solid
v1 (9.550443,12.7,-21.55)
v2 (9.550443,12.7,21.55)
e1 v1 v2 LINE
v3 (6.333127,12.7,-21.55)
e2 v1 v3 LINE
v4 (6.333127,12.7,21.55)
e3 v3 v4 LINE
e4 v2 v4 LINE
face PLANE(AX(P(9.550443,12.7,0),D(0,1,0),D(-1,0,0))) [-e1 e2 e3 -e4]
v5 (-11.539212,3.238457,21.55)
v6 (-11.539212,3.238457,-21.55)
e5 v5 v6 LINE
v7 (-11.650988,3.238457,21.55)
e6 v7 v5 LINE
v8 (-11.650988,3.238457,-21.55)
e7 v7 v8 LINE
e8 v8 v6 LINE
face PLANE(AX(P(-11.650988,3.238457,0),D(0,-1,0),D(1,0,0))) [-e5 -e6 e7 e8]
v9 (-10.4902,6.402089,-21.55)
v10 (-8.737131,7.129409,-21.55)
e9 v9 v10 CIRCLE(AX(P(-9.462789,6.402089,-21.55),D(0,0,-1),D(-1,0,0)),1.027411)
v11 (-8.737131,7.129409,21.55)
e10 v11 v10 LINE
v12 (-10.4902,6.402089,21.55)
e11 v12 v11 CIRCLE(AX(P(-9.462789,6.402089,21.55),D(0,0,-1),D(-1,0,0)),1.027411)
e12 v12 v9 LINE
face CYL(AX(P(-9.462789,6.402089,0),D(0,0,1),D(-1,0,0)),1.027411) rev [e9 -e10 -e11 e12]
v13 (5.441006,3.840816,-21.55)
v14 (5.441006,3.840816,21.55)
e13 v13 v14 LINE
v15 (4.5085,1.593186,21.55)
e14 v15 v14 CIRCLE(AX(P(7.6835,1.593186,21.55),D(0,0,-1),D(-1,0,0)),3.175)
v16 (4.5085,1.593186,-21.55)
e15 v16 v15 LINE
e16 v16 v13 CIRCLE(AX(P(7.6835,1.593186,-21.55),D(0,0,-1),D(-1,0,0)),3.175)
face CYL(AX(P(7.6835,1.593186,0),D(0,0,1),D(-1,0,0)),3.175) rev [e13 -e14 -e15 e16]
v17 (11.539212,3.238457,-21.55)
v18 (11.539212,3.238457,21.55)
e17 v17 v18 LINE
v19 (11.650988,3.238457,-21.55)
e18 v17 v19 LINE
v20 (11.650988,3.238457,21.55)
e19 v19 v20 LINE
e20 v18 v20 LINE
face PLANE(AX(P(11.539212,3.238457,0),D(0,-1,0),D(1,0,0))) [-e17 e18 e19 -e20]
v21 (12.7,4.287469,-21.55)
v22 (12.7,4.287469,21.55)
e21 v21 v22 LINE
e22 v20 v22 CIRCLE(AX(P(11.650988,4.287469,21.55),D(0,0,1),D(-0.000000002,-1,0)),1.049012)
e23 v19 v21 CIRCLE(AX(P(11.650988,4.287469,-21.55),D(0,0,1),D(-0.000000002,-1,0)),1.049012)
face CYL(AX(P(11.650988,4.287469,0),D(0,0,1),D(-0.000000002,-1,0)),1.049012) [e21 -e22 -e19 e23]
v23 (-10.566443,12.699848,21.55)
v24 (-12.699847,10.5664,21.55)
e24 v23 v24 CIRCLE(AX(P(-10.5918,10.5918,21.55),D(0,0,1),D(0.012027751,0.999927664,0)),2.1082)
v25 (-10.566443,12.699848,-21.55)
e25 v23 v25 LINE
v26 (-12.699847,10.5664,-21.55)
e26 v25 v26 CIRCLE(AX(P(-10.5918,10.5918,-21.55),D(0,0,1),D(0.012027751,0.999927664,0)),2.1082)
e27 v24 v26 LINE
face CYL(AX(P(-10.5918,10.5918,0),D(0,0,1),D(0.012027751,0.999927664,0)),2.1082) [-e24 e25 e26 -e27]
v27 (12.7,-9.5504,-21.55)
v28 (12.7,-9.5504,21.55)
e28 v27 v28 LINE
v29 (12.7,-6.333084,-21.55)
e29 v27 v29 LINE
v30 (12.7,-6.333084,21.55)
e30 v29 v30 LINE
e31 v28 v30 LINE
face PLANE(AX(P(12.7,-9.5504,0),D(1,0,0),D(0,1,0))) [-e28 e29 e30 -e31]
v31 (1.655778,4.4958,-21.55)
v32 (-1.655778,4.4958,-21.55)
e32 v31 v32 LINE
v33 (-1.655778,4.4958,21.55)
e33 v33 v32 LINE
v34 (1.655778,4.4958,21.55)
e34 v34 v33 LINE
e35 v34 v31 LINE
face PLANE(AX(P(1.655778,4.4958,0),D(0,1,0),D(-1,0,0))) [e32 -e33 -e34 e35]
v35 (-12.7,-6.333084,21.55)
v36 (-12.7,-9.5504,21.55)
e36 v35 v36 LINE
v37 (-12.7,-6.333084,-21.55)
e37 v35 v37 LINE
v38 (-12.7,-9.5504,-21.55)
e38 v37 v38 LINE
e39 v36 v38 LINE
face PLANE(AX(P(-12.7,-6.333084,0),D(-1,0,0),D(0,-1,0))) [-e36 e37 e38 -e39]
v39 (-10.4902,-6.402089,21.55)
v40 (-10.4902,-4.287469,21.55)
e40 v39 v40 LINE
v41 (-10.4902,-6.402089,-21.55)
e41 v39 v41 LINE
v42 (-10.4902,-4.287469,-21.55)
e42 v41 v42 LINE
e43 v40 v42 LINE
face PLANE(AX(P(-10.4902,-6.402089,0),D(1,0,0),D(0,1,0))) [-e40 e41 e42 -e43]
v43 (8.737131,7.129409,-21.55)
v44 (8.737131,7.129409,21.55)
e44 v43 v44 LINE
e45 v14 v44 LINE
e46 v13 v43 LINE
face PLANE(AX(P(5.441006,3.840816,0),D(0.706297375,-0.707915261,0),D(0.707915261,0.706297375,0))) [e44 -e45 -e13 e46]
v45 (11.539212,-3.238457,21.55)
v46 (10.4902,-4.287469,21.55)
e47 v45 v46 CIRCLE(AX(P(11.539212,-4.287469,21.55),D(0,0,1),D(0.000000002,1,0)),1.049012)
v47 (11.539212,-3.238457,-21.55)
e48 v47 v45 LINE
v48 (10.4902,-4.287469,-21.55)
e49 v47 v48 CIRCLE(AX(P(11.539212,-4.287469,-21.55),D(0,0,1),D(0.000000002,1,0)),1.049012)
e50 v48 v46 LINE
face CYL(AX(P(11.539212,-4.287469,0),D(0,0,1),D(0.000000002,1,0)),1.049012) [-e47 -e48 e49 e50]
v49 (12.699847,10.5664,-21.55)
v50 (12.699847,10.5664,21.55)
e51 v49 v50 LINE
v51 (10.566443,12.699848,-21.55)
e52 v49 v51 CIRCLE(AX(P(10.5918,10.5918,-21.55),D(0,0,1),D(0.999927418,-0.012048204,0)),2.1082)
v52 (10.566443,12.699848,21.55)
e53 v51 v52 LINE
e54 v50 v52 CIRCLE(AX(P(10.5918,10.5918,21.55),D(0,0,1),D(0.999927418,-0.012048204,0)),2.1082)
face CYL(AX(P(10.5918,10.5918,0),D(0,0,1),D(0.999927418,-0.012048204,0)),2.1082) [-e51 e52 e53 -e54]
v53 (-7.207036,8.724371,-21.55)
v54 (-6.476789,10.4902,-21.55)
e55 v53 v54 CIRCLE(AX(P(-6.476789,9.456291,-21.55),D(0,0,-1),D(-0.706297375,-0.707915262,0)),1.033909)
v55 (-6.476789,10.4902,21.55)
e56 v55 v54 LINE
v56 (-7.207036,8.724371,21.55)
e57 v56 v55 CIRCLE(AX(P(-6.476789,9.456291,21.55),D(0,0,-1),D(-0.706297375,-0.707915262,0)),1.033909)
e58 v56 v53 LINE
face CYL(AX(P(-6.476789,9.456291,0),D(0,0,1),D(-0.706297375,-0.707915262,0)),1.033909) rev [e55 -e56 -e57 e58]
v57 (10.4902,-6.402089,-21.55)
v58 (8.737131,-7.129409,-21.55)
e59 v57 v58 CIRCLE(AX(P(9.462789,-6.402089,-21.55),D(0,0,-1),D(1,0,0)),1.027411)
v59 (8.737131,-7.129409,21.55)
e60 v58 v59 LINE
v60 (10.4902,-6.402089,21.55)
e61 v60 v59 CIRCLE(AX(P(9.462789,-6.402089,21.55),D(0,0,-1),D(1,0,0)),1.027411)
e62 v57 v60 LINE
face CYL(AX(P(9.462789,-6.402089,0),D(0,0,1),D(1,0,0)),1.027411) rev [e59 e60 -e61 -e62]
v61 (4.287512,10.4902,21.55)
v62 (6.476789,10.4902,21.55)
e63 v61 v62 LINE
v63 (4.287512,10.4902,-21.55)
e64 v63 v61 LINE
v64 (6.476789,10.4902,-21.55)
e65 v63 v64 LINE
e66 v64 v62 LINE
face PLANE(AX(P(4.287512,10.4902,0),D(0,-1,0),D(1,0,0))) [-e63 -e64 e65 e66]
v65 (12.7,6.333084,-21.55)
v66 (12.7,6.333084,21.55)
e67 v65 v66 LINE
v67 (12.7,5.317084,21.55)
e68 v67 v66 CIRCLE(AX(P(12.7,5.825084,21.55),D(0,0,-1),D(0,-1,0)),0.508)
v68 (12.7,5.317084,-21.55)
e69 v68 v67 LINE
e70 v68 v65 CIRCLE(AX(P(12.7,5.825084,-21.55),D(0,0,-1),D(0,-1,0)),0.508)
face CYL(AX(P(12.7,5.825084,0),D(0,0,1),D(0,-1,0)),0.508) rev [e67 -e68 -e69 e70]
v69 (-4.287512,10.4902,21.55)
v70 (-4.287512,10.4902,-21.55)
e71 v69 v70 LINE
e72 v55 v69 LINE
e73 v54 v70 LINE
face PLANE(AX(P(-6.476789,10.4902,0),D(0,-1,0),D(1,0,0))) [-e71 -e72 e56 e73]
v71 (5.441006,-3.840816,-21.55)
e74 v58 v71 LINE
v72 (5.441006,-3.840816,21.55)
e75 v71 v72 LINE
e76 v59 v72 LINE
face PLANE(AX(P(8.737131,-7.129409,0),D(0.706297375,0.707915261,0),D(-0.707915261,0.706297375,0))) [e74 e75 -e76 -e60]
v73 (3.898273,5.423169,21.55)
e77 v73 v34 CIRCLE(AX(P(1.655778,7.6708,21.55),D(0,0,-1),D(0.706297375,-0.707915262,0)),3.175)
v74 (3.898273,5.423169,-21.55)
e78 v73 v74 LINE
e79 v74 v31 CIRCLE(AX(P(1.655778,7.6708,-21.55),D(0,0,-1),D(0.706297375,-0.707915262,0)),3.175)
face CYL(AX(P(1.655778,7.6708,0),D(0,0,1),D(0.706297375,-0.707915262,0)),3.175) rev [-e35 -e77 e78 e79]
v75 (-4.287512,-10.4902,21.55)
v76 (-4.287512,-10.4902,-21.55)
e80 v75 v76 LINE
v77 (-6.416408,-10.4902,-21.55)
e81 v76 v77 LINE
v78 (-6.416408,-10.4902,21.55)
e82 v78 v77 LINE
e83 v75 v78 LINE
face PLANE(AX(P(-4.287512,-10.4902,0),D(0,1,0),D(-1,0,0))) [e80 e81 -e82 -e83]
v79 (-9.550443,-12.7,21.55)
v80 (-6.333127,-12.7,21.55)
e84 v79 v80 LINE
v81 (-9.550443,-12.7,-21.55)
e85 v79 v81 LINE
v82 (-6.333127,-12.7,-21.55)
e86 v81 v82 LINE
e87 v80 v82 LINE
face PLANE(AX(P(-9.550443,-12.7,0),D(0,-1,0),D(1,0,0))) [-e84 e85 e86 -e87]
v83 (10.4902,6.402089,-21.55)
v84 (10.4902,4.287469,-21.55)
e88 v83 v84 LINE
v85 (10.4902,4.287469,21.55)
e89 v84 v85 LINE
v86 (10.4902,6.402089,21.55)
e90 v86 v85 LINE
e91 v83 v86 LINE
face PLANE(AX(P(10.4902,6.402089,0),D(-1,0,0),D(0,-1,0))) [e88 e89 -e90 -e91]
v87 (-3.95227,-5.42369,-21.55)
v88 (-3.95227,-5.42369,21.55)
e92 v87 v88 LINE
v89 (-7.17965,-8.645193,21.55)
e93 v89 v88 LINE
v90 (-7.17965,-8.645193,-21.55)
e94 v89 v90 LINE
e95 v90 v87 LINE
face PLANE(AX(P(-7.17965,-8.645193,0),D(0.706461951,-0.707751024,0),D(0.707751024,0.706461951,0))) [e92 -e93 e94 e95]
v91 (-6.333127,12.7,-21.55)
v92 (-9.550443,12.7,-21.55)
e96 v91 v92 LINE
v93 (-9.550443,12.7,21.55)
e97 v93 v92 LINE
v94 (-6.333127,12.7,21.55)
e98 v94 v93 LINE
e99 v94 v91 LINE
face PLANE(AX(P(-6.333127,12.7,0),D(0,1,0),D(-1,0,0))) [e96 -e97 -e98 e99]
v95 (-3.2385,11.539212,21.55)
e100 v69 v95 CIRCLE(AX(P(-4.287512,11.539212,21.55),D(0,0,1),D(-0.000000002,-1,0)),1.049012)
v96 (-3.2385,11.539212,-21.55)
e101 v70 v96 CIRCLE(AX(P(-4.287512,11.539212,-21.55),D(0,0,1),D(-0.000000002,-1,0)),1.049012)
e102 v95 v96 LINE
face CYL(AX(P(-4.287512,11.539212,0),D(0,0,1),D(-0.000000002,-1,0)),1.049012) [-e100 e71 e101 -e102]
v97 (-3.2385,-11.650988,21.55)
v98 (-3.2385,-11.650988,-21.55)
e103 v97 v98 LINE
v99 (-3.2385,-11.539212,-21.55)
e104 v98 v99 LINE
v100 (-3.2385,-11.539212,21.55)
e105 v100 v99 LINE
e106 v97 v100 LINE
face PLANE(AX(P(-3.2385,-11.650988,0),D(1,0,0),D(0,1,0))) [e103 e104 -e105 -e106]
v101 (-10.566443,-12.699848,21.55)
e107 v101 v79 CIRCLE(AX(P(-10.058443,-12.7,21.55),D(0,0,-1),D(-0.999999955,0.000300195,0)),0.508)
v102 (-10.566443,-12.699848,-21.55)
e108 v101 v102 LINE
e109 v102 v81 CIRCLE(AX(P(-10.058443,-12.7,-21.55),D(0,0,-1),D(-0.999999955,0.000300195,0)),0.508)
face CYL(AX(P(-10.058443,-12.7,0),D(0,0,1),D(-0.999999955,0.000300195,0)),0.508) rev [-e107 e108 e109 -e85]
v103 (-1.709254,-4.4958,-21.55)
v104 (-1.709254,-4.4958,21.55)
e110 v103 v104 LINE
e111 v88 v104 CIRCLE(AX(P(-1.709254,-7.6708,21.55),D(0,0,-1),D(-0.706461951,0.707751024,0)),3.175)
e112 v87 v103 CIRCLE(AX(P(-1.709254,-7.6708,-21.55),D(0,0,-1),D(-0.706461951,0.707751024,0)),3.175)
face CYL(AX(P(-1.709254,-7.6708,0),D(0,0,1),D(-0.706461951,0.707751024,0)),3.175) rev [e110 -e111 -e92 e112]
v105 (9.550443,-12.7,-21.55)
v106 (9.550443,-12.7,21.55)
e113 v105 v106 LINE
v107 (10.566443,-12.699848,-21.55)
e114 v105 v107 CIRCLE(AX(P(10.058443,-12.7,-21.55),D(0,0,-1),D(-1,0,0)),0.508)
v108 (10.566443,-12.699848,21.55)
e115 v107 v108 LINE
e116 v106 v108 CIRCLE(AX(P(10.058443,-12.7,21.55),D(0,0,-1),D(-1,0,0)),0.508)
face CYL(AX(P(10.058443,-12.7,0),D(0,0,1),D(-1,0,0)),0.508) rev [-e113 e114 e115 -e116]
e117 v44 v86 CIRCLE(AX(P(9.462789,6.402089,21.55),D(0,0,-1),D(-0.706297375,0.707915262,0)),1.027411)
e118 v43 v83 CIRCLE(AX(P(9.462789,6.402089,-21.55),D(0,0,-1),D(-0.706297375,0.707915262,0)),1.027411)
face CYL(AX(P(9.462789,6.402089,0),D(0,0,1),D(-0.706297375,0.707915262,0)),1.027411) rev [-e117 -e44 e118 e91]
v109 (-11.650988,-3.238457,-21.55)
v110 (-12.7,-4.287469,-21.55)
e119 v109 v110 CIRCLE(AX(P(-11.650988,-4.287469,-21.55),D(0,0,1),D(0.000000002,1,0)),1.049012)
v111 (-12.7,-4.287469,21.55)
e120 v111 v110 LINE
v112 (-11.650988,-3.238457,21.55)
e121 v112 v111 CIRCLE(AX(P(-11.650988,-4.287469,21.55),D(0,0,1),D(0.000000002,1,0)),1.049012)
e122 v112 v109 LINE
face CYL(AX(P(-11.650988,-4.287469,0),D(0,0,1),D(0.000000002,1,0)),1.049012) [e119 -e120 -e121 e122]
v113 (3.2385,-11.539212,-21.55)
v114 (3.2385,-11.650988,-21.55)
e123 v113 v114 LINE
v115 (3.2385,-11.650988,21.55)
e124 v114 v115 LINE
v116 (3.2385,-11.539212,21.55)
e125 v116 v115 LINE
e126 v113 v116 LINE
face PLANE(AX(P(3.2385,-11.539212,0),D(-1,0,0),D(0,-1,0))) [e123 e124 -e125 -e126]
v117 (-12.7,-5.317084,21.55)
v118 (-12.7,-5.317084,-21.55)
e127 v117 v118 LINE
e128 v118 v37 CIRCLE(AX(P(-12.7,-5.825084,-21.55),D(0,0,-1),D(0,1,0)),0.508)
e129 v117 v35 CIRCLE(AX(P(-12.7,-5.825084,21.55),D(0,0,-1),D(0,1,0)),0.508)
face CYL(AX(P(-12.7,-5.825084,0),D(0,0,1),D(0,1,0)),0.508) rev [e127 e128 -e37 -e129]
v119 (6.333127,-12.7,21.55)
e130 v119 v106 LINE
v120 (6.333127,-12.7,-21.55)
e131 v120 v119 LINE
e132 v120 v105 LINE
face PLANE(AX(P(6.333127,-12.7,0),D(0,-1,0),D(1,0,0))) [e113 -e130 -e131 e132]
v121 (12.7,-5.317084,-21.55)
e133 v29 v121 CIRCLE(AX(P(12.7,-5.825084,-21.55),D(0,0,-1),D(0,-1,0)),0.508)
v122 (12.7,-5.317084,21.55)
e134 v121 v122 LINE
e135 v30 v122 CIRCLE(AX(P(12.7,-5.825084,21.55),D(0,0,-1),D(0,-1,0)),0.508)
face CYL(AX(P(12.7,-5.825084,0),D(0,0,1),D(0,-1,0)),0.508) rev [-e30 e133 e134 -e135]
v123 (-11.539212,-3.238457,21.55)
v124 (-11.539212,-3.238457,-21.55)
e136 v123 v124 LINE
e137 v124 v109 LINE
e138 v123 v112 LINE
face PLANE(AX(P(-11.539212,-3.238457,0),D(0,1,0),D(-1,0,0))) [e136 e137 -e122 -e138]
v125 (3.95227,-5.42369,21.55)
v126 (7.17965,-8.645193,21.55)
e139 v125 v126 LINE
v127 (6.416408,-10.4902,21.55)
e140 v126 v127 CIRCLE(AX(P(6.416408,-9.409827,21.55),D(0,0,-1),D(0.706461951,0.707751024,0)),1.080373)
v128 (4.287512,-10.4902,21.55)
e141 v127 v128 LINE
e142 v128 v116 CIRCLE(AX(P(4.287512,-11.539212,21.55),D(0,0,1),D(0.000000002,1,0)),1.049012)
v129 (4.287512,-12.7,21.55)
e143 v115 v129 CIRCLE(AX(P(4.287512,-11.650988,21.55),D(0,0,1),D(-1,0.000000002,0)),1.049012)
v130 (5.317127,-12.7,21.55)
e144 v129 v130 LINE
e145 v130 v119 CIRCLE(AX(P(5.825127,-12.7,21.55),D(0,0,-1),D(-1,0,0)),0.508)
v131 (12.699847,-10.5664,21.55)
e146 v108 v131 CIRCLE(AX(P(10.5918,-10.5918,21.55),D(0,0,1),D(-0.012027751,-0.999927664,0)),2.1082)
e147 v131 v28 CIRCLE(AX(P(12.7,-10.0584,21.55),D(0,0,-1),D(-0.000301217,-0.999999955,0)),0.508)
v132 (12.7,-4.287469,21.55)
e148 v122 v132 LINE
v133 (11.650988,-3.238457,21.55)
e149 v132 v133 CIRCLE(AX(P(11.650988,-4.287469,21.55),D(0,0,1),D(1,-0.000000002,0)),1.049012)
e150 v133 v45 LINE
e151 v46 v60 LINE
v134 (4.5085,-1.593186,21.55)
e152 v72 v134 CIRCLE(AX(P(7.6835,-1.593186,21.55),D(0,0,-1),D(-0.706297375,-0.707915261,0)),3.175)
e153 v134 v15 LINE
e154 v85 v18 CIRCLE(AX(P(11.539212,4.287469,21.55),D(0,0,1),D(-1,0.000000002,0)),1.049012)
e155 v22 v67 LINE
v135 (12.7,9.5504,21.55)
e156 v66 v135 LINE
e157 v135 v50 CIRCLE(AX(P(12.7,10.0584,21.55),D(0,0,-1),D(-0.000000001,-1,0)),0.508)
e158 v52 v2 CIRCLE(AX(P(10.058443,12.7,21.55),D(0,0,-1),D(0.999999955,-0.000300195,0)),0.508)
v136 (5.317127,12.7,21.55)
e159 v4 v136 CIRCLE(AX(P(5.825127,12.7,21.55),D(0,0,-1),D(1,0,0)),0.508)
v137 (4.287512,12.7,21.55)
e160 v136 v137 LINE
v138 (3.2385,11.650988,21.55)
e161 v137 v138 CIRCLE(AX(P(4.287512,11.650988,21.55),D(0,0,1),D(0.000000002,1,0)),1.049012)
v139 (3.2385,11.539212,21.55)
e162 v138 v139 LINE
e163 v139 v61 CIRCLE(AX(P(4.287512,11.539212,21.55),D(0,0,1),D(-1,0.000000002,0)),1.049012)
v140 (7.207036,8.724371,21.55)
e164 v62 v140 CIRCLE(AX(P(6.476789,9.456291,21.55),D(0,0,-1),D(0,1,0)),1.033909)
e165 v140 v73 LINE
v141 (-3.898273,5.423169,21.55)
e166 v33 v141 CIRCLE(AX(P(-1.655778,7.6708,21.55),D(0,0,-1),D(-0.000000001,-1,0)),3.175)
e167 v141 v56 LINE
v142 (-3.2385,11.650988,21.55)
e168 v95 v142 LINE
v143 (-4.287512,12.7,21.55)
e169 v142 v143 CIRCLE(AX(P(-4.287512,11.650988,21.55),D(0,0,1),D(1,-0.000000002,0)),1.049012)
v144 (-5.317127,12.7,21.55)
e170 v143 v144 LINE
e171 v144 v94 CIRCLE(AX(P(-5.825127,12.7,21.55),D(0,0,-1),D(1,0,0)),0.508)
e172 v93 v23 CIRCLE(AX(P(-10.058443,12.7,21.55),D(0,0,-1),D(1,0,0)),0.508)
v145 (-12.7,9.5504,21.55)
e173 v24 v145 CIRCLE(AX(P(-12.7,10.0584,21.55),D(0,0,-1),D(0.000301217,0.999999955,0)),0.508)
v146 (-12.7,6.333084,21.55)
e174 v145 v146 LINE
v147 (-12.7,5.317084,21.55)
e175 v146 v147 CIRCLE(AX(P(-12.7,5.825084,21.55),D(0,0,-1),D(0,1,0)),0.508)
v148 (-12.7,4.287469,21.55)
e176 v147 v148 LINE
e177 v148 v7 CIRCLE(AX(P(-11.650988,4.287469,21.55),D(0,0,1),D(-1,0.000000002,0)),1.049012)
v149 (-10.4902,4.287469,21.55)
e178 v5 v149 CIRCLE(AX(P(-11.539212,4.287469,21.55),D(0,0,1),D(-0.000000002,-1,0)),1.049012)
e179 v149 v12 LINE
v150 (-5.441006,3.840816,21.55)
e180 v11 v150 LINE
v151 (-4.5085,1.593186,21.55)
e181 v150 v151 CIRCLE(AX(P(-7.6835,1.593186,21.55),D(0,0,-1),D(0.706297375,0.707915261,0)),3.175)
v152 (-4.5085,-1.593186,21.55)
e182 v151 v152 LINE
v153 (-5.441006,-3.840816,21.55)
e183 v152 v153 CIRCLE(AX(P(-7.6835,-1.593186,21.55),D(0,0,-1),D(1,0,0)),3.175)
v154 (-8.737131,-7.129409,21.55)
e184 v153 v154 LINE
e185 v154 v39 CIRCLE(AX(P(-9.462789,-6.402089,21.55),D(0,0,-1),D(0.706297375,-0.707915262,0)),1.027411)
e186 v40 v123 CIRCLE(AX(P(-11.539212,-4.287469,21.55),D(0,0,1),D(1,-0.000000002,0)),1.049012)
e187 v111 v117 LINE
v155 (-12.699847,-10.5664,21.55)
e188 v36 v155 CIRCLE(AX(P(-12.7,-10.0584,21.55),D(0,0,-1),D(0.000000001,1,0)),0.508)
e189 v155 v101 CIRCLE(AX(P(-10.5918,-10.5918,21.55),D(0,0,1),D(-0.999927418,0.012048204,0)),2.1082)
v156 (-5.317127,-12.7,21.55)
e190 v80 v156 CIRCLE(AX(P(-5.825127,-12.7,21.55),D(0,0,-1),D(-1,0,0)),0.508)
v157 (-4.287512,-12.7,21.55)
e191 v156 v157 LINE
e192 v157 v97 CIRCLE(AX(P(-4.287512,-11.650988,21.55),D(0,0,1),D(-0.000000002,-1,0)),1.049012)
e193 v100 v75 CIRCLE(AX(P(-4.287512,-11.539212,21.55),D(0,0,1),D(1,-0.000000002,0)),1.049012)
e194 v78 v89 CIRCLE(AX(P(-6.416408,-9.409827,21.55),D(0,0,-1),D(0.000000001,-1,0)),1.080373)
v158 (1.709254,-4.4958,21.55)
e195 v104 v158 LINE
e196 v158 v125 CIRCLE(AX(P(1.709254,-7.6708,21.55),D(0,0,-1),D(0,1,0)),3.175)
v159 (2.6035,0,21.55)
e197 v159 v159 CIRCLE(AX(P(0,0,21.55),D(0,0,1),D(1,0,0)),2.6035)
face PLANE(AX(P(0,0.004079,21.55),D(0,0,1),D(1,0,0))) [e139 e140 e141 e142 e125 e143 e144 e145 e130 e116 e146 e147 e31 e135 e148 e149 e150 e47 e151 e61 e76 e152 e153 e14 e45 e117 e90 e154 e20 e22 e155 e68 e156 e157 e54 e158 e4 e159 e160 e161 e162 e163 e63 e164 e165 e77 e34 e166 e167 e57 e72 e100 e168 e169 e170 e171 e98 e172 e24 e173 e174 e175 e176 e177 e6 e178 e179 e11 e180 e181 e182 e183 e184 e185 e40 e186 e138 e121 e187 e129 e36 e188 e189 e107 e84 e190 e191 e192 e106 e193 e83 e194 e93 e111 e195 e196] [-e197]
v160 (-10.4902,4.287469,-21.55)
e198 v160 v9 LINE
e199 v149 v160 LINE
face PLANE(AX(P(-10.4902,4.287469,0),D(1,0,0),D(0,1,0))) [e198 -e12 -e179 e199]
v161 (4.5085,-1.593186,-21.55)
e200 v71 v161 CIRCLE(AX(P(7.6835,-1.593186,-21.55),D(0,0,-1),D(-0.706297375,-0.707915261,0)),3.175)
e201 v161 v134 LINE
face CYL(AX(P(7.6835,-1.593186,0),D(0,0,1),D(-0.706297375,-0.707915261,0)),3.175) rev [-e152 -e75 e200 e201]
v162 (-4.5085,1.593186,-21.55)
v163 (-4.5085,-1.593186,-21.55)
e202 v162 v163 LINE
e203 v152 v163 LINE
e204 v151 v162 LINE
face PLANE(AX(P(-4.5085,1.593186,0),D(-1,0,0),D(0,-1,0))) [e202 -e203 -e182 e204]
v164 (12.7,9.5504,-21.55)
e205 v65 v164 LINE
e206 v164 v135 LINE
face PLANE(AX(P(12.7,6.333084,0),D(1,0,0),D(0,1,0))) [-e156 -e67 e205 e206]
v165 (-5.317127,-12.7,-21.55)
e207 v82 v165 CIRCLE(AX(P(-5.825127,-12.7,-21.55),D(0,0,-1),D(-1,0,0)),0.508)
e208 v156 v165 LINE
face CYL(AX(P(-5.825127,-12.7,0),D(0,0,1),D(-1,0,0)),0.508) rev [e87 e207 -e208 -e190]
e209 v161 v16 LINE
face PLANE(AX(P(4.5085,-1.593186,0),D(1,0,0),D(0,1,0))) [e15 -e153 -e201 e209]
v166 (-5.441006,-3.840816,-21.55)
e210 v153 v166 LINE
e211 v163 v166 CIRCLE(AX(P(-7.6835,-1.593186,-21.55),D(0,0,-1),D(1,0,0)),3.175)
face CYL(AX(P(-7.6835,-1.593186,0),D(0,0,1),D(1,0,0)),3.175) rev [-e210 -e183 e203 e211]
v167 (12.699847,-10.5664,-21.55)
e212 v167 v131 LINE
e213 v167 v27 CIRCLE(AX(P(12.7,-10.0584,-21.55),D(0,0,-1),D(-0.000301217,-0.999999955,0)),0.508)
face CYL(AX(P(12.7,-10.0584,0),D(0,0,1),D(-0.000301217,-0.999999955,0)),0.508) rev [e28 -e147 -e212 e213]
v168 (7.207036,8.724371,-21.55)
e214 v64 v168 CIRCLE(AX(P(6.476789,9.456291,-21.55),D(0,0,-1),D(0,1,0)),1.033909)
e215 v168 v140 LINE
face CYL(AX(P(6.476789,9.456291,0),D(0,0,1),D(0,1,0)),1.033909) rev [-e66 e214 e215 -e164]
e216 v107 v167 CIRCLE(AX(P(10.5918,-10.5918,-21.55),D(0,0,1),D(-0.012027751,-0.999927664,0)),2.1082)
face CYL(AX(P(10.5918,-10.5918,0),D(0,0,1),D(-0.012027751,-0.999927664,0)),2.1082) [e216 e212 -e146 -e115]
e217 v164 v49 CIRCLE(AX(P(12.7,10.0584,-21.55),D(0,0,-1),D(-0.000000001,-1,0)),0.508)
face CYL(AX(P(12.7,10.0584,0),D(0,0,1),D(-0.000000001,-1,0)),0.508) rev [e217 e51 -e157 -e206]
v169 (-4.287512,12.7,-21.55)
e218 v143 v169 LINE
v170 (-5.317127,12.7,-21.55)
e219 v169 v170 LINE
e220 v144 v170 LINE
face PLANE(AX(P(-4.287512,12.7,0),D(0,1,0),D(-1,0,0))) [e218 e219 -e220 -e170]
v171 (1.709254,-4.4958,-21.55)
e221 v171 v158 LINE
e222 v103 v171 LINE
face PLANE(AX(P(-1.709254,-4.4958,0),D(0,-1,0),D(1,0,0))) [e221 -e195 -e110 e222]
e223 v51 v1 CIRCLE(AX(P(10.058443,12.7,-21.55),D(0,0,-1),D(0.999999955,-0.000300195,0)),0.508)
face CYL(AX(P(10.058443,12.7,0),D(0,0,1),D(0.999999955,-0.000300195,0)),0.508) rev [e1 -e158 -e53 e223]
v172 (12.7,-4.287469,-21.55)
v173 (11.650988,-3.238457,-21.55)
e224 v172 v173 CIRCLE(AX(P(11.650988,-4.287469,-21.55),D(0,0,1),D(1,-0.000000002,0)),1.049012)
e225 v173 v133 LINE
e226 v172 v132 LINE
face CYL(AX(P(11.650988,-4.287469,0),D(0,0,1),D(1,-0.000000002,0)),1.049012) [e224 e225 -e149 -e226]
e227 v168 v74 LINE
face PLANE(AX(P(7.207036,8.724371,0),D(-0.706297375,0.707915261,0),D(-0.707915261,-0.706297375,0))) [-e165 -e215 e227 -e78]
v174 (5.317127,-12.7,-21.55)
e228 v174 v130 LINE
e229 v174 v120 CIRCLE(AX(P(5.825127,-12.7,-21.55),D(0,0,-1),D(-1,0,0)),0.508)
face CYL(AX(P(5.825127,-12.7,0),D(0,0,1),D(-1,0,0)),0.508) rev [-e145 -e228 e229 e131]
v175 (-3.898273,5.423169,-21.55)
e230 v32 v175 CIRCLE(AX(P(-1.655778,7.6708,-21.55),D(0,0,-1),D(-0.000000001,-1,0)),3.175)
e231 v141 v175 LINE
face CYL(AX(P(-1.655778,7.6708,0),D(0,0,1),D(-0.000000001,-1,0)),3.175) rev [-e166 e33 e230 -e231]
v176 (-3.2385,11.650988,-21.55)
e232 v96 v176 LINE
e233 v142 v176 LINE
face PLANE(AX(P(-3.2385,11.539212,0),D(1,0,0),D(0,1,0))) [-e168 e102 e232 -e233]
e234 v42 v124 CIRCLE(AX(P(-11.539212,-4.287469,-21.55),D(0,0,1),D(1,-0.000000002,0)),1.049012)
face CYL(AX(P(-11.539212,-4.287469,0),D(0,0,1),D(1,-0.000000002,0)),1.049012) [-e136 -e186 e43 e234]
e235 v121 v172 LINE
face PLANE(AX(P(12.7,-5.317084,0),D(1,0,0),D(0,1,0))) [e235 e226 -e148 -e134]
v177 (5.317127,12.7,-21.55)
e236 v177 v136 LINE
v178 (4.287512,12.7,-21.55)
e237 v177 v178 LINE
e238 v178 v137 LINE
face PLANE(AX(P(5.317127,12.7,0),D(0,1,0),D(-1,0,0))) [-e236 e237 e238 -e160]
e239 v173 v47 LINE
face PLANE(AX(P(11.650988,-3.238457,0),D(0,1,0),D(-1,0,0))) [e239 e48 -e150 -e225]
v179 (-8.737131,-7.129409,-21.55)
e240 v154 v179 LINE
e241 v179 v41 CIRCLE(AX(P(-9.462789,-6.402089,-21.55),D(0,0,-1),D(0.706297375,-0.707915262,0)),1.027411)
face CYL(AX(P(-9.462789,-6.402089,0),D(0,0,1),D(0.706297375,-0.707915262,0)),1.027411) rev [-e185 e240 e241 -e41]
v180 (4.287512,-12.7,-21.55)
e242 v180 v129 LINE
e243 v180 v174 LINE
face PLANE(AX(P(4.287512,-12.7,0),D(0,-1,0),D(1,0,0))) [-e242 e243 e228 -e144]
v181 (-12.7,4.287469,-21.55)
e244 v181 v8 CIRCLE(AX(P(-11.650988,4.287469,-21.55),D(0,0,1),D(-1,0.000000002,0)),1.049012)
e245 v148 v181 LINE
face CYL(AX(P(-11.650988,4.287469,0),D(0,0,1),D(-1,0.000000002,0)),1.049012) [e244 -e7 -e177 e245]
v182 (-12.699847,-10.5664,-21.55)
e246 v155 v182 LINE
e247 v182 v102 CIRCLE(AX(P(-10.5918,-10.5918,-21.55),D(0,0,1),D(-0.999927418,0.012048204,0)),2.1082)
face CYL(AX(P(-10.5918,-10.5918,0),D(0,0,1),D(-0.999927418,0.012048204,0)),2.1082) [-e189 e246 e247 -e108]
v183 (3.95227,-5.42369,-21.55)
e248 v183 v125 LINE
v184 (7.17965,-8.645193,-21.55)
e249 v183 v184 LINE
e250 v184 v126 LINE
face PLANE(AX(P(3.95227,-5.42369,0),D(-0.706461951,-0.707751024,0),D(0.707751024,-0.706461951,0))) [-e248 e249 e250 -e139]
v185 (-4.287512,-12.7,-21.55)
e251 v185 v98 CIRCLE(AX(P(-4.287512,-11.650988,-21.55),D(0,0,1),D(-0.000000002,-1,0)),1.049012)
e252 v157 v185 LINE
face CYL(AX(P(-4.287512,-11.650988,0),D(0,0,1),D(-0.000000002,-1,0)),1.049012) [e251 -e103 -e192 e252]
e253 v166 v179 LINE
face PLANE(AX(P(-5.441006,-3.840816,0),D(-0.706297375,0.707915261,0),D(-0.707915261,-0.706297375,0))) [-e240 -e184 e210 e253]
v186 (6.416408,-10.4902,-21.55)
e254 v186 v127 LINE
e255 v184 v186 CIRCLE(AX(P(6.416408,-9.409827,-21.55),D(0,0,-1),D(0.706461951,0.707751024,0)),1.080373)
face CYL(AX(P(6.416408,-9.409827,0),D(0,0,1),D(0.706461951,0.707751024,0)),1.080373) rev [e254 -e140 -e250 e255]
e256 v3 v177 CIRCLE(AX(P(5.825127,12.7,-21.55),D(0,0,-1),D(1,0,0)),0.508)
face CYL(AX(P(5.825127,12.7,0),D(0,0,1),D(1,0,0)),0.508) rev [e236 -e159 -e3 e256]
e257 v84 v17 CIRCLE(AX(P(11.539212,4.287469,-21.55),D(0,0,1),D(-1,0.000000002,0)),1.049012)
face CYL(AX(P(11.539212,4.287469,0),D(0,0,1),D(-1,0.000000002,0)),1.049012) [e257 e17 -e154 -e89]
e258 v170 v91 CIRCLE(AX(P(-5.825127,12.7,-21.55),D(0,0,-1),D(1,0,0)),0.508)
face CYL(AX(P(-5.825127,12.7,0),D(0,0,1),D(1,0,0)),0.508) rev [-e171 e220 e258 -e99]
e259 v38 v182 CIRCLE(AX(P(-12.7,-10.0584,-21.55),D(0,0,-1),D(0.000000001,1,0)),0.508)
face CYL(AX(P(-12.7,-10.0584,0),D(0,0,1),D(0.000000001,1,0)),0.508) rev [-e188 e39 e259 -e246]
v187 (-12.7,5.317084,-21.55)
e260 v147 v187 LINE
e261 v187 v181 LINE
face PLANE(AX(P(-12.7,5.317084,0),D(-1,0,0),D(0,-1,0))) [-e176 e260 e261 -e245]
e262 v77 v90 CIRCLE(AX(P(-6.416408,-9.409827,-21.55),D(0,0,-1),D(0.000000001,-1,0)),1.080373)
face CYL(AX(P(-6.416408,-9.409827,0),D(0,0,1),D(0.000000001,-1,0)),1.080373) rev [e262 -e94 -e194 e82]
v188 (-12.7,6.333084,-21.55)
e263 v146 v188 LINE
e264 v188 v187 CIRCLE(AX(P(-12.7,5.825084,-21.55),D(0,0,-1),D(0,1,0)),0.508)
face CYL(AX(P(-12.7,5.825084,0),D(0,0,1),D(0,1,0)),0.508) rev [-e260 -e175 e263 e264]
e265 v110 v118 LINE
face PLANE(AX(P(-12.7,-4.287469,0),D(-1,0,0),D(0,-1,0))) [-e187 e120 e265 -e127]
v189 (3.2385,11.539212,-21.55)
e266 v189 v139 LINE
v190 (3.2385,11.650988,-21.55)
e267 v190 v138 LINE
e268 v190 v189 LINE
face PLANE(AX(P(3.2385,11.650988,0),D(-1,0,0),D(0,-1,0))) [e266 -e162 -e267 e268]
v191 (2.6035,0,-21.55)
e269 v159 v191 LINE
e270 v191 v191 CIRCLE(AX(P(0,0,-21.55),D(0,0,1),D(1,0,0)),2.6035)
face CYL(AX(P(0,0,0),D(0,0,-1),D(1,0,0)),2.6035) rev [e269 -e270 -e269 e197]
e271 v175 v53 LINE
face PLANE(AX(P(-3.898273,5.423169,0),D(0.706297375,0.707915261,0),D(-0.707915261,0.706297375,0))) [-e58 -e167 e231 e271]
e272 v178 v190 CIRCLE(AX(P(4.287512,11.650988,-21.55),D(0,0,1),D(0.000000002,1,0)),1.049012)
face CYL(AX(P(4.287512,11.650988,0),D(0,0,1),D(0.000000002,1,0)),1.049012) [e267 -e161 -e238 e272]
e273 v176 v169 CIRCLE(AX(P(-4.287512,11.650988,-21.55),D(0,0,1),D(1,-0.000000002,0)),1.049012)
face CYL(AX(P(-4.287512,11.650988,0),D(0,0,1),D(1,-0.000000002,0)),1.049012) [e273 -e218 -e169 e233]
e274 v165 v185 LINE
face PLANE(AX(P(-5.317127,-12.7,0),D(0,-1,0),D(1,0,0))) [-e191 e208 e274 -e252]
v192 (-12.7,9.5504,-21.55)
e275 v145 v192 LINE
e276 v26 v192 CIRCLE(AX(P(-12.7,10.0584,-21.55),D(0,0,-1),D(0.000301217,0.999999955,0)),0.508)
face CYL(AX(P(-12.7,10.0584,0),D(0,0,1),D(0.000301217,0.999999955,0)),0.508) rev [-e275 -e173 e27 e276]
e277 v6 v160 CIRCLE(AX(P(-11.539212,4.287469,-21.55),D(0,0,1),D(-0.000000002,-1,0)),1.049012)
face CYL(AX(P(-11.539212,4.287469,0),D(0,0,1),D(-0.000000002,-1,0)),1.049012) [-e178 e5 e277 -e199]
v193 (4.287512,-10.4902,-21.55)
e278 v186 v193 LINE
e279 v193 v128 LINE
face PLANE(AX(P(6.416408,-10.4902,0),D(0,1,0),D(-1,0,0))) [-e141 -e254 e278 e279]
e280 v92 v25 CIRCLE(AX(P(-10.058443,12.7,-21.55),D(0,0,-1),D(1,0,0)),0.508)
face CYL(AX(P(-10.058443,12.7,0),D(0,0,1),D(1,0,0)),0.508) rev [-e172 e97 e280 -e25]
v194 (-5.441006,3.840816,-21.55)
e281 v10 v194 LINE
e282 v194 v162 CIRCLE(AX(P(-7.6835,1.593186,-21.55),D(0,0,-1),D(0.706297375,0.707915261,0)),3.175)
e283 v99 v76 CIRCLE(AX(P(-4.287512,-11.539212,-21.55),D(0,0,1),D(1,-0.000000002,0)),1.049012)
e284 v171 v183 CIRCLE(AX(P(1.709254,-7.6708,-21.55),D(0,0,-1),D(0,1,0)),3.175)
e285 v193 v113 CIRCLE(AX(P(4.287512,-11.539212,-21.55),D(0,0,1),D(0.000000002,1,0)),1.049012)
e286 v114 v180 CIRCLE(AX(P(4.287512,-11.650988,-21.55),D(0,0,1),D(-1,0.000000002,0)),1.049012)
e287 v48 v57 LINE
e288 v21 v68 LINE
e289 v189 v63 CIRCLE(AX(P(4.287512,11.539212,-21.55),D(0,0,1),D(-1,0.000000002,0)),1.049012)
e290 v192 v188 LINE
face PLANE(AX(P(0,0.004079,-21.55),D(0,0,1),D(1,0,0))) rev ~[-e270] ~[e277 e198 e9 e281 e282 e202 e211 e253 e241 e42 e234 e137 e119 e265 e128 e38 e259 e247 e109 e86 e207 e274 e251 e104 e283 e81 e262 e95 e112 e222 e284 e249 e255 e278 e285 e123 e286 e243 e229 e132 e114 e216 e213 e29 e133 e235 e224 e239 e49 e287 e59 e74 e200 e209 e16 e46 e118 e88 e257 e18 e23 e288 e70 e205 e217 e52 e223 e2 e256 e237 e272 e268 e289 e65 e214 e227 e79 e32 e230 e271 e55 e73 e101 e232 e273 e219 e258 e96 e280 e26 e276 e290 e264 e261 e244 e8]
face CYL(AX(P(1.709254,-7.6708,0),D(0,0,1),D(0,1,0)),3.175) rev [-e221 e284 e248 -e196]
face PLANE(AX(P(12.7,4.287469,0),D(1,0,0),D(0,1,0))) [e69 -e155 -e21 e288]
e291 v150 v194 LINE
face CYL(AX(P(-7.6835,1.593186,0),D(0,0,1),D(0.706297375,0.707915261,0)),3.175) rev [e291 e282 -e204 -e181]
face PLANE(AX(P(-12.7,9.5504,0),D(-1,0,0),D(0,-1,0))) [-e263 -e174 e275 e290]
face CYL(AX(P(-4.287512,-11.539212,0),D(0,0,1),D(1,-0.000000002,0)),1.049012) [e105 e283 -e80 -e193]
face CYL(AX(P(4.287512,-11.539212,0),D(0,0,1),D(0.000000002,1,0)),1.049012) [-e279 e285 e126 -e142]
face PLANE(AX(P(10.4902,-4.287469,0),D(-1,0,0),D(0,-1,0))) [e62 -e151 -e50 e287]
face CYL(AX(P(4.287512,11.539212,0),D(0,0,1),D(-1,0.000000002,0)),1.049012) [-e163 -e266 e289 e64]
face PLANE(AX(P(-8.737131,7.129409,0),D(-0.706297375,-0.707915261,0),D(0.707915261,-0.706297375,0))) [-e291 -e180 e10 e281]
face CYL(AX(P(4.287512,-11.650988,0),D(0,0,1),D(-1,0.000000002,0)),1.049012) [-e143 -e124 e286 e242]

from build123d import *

# Parameters (mm, degrees)
SKETCH1_R           = 2.6035
BOSS_EXTRUDE1_DEPTH = 21.55


with BuildPart() as part:
    # Sketch1 → Boss-Extrude1 (new body, symmetric)
    with BuildSketch(Plane.XY):
        with BuildLine():
            Line((-7.179650497, -8.645192506), (-3.952270251, -5.423690499))
            ThreePointArc((-3.952270251, -5.423690499), (-2.922936451, -4.736929036), (-1.709253557, -4.4958))
            Line((-1.709253557, -4.4958), (1.709253557, -4.4958))
            ThreePointArc((1.709253557, -4.4958), (2.922936451, -4.736929036), (3.952270251, -5.423690499))
            Line((3.952270251, -5.423690499), (7.179650497, -8.645192506))
            ThreePointArc((7.179650497, -8.645192506), (7.41473083, -9.822813117), (6.416408329, -10.4902))
            Line((6.416408329, -10.4902), (4.287512407, -10.4902))
            ThreePointArc((4.287512407, -10.4902), (3.54574862, -10.79744862), (3.2385, -11.539212407))
            Line((3.2385, -11.539212407), (3.2385, -11.650987593))
            ThreePointArc((3.2385, -11.650987593), (3.54574862, -12.39275138), (4.287512407, -12.7))
            Line((4.287512407, -12.7), (5.317126718, -12.7))
            ThreePointArc((5.317126718, -12.7), (5.825126718, -12.192), (6.333126718, -12.7))
            Line((6.333126718, -12.7), (9.550443118, -12.7))
            ThreePointArc((9.550443118, -12.7), (10.058366869, -12.192000006), (10.566443095, -12.699847501))
            ThreePointArc((10.566443095, -12.699847501), (12.082537762, -12.08250727), (12.699846982, -10.566399977))
            ThreePointArc((12.699846982, -10.566399977), (12.192000006, -10.058323491), (12.7, -9.5504))
            Line((12.7, -9.5504), (12.7, -6.3330836))
            ThreePointArc((12.7, -6.3330836), (12.192, -5.8250836), (12.7, -5.3170836))
            Line((12.7, -5.3170836), (12.7, -4.287469289))
            ThreePointArc((12.7, -4.287469289), (12.39275138, -3.545705502), (11.650987593, -3.238456882))
            Line((11.650987593, -3.238456882), (11.539212407, -3.238456882))
            ThreePointArc((11.539212407, -3.238456882), (10.79744862, -3.545705502), (10.4902, -4.287469289))
            Line((10.4902, -4.287469289), (10.4902, -6.402089023))
            ThreePointArc((10.4902, -6.402089023), (9.856505071, -7.351067942), (8.737131347, -7.129408934))
            Line((8.737131347, -7.129408934), (5.441005833, -3.840816462))
            ThreePointArc((5.441005833, -3.840816462), (4.750877967, -2.809883091), (4.5085, -1.593185507))
            Line((4.5085, -1.593185507), (4.5085, 1.593185507))
            ThreePointArc((4.5085, 1.593185507), (4.750877967, 2.809883091), (5.441005833, 3.840816462))
            Line((5.441005833, 3.840816462), (8.737131347, 7.129408934))
            ThreePointArc((8.737131347, 7.129408934), (9.856505071, 7.351067942), (10.4902, 6.402089023))
            Line((10.4902, 6.402089023), (10.4902, 4.287469289))
            ThreePointArc((10.4902, 4.287469289), (10.79744862, 3.545705502), (11.539212407, 3.238456882))
            Line((11.539212407, 3.238456882), (11.650987593, 3.238456882))
            ThreePointArc((11.650987593, 3.238456882), (12.39275138, 3.545705502), (12.7, 4.287469289))
            Line((12.7, 4.287469289), (12.7, 5.3170836))
            ThreePointArc((12.7, 5.3170836), (12.192, 5.8250836), (12.7, 6.3330836))
            Line((12.7, 6.3330836), (12.7, 9.5504))
            ThreePointArc((12.7, 9.5504), (12.192000006, 10.058323491), (12.699846982, 10.566399977))
            ThreePointArc((12.699846982, 10.566399977), (12.082537762, 12.08250727), (10.566443095, 12.699847501))
            ThreePointArc((10.566443095, 12.699847501), (10.058366869, 12.192000006), (9.550443118, 12.7))
            Line((9.550443118, 12.7), (6.333126718, 12.7))
            ThreePointArc((6.333126718, 12.7), (5.825126718, 12.192), (5.317126718, 12.7))
            Line((5.317126718, 12.7), (4.287512407, 12.7))
            ThreePointArc((4.287512407, 12.7), (3.54574862, 12.39275138), (3.2385, 11.650987593))
            Line((3.2385, 11.650987593), (3.2385, 11.539212407))
            ThreePointArc((3.2385, 11.539212407), (3.54574862, 10.79744862), (4.287512407, 10.4902))
            Line((4.287512407, 10.4902), (6.476788598, 10.4902))
            ThreePointArc((6.476788598, 10.4902), (7.432222385, 9.85140422), (7.207036008, 8.724370562))
            Line((7.207036008, 8.724370562), (3.898272566, 5.423169045))
            ThreePointArc((3.898272566, 5.423169045), (2.869120213, 4.736787962), (1.655778399, 4.4958))
            Line((1.655778399, 4.4958), (-1.655778399, 4.4958))
            ThreePointArc((-1.655778399, 4.4958), (-2.869120213, 4.736787962), (-3.898272566, 5.423169045))
            Line((-3.898272566, 5.423169045), (-7.207036008, 8.724370562))
            ThreePointArc((-7.207036008, 8.724370562), (-7.432222385, 9.85140422), (-6.476788598, 10.4902))
            Line((-6.476788598, 10.4902), (-4.287512407, 10.4902))
            ThreePointArc((-4.287512407, 10.4902), (-3.54574862, 10.79744862), (-3.2385, 11.539212407))
            Line((-3.2385, 11.539212407), (-3.2385, 11.650987593))
            ThreePointArc((-3.2385, 11.650987593), (-3.54574862, 12.39275138), (-4.287512407, 12.7))
            Line((-4.287512407, 12.7), (-5.317126718, 12.7))
            ThreePointArc((-5.317126718, 12.7), (-5.825126718, 12.192), (-6.333126718, 12.7))
            Line((-6.333126718, 12.7), (-9.550443118, 12.7))
            ThreePointArc((-9.550443118, 12.7), (-10.058366869, 12.192000006), (-10.566443095, 12.699847501))
            ThreePointArc((-10.566443095, 12.699847501), (-12.082537762, 12.08250727), (-12.699846982, 10.566399977))
            ThreePointArc((-12.699846982, 10.566399977), (-12.192000006, 10.058323491), (-12.7, 9.5504))
            Line((-12.7, 9.5504), (-12.7, 6.3330836))
            ThreePointArc((-12.7, 6.3330836), (-12.192, 5.8250836), (-12.7, 5.3170836))
            Line((-12.7, 5.3170836), (-12.7, 4.287469289))
            ThreePointArc((-12.7, 4.287469289), (-12.39275138, 3.545705502), (-11.650987593, 3.238456882))
            Line((-11.650987593, 3.238456882), (-11.539212407, 3.238456882))
            ThreePointArc((-11.539212407, 3.238456882), (-10.79744862, 3.545705502), (-10.4902, 4.287469289))
            Line((-10.4902, 4.287469289), (-10.4902, 6.402089023))
            ThreePointArc((-10.4902, 6.402089023), (-9.856505071, 7.351067942), (-8.737131347, 7.129408934))
            Line((-8.737131347, 7.129408934), (-5.441005833, 3.840816462))
            ThreePointArc((-5.441005833, 3.840816462), (-4.750877967, 2.809883091), (-4.5085, 1.593185507))
            Line((-4.5085, 1.593185507), (-4.5085, -1.593185507))
            ThreePointArc((-4.5085, -1.593185507), (-4.750877967, -2.809883091), (-5.441005833, -3.840816462))
            Line((-5.441005833, -3.840816462), (-8.737131347, -7.129408934))
            ThreePointArc((-8.737131347, -7.129408934), (-9.856505071, -7.351067942), (-10.4902, -6.402089023))
            Line((-10.4902, -6.402089023), (-10.4902, -4.287469289))
            ThreePointArc((-10.4902, -4.287469289), (-10.79744862, -3.545705502), (-11.539212407, -3.238456882))
            Line((-11.539212407, -3.238456882), (-11.650987593, -3.238456882))
            ThreePointArc((-11.650987593, -3.238456882), (-12.39275138, -3.545705502), (-12.7, -4.287469289))
            Line((-12.7, -4.287469289), (-12.7, -5.3170836))
            ThreePointArc((-12.7, -5.3170836), (-12.192, -5.8250836), (-12.7, -6.3330836))
            Line((-12.7, -6.3330836), (-12.7, -9.5504))
            ThreePointArc((-12.7, -9.5504), (-12.192000006, -10.058323491), (-12.699846982, -10.566399977))
            ThreePointArc((-12.699846982, -10.566399977), (-12.082537762, -12.08250727), (-10.566443095, -12.699847501))
            ThreePointArc((-10.566443095, -12.699847501), (-10.058366869, -12.192000006), (-9.550443118, -12.7))
            Line((-9.550443118, -12.7), (-6.333126718, -12.7))
            ThreePointArc((-6.333126718, -12.7), (-5.825126718, -12.192), (-5.317126718, -12.7))
            Line((-5.317126718, -12.7), (-4.287512407, -12.7))
            ThreePointArc((-4.287512407, -12.7), (-3.54574862, -12.39275138), (-3.2385, -11.650987593))
            Line((-3.2385, -11.650987593), (-3.2385, -11.539212407))
            ThreePointArc((-3.2385, -11.539212407), (-3.54574862, -10.79744862), (-4.287512407, -10.4902))
            Line((-4.287512407, -10.4902), (-6.416408329, -10.4902))
            ThreePointArc((-6.416408329, -10.4902), (-7.41473083, -9.822813117), (-7.179650497, -8.645192506))
        make_face()
        Circle(SKETCH1_R, mode=Mode.SUBTRACT)
    extrude(amount=BOSS_EXTRUDE1_DEPTH, both=True)


solid = part.part
